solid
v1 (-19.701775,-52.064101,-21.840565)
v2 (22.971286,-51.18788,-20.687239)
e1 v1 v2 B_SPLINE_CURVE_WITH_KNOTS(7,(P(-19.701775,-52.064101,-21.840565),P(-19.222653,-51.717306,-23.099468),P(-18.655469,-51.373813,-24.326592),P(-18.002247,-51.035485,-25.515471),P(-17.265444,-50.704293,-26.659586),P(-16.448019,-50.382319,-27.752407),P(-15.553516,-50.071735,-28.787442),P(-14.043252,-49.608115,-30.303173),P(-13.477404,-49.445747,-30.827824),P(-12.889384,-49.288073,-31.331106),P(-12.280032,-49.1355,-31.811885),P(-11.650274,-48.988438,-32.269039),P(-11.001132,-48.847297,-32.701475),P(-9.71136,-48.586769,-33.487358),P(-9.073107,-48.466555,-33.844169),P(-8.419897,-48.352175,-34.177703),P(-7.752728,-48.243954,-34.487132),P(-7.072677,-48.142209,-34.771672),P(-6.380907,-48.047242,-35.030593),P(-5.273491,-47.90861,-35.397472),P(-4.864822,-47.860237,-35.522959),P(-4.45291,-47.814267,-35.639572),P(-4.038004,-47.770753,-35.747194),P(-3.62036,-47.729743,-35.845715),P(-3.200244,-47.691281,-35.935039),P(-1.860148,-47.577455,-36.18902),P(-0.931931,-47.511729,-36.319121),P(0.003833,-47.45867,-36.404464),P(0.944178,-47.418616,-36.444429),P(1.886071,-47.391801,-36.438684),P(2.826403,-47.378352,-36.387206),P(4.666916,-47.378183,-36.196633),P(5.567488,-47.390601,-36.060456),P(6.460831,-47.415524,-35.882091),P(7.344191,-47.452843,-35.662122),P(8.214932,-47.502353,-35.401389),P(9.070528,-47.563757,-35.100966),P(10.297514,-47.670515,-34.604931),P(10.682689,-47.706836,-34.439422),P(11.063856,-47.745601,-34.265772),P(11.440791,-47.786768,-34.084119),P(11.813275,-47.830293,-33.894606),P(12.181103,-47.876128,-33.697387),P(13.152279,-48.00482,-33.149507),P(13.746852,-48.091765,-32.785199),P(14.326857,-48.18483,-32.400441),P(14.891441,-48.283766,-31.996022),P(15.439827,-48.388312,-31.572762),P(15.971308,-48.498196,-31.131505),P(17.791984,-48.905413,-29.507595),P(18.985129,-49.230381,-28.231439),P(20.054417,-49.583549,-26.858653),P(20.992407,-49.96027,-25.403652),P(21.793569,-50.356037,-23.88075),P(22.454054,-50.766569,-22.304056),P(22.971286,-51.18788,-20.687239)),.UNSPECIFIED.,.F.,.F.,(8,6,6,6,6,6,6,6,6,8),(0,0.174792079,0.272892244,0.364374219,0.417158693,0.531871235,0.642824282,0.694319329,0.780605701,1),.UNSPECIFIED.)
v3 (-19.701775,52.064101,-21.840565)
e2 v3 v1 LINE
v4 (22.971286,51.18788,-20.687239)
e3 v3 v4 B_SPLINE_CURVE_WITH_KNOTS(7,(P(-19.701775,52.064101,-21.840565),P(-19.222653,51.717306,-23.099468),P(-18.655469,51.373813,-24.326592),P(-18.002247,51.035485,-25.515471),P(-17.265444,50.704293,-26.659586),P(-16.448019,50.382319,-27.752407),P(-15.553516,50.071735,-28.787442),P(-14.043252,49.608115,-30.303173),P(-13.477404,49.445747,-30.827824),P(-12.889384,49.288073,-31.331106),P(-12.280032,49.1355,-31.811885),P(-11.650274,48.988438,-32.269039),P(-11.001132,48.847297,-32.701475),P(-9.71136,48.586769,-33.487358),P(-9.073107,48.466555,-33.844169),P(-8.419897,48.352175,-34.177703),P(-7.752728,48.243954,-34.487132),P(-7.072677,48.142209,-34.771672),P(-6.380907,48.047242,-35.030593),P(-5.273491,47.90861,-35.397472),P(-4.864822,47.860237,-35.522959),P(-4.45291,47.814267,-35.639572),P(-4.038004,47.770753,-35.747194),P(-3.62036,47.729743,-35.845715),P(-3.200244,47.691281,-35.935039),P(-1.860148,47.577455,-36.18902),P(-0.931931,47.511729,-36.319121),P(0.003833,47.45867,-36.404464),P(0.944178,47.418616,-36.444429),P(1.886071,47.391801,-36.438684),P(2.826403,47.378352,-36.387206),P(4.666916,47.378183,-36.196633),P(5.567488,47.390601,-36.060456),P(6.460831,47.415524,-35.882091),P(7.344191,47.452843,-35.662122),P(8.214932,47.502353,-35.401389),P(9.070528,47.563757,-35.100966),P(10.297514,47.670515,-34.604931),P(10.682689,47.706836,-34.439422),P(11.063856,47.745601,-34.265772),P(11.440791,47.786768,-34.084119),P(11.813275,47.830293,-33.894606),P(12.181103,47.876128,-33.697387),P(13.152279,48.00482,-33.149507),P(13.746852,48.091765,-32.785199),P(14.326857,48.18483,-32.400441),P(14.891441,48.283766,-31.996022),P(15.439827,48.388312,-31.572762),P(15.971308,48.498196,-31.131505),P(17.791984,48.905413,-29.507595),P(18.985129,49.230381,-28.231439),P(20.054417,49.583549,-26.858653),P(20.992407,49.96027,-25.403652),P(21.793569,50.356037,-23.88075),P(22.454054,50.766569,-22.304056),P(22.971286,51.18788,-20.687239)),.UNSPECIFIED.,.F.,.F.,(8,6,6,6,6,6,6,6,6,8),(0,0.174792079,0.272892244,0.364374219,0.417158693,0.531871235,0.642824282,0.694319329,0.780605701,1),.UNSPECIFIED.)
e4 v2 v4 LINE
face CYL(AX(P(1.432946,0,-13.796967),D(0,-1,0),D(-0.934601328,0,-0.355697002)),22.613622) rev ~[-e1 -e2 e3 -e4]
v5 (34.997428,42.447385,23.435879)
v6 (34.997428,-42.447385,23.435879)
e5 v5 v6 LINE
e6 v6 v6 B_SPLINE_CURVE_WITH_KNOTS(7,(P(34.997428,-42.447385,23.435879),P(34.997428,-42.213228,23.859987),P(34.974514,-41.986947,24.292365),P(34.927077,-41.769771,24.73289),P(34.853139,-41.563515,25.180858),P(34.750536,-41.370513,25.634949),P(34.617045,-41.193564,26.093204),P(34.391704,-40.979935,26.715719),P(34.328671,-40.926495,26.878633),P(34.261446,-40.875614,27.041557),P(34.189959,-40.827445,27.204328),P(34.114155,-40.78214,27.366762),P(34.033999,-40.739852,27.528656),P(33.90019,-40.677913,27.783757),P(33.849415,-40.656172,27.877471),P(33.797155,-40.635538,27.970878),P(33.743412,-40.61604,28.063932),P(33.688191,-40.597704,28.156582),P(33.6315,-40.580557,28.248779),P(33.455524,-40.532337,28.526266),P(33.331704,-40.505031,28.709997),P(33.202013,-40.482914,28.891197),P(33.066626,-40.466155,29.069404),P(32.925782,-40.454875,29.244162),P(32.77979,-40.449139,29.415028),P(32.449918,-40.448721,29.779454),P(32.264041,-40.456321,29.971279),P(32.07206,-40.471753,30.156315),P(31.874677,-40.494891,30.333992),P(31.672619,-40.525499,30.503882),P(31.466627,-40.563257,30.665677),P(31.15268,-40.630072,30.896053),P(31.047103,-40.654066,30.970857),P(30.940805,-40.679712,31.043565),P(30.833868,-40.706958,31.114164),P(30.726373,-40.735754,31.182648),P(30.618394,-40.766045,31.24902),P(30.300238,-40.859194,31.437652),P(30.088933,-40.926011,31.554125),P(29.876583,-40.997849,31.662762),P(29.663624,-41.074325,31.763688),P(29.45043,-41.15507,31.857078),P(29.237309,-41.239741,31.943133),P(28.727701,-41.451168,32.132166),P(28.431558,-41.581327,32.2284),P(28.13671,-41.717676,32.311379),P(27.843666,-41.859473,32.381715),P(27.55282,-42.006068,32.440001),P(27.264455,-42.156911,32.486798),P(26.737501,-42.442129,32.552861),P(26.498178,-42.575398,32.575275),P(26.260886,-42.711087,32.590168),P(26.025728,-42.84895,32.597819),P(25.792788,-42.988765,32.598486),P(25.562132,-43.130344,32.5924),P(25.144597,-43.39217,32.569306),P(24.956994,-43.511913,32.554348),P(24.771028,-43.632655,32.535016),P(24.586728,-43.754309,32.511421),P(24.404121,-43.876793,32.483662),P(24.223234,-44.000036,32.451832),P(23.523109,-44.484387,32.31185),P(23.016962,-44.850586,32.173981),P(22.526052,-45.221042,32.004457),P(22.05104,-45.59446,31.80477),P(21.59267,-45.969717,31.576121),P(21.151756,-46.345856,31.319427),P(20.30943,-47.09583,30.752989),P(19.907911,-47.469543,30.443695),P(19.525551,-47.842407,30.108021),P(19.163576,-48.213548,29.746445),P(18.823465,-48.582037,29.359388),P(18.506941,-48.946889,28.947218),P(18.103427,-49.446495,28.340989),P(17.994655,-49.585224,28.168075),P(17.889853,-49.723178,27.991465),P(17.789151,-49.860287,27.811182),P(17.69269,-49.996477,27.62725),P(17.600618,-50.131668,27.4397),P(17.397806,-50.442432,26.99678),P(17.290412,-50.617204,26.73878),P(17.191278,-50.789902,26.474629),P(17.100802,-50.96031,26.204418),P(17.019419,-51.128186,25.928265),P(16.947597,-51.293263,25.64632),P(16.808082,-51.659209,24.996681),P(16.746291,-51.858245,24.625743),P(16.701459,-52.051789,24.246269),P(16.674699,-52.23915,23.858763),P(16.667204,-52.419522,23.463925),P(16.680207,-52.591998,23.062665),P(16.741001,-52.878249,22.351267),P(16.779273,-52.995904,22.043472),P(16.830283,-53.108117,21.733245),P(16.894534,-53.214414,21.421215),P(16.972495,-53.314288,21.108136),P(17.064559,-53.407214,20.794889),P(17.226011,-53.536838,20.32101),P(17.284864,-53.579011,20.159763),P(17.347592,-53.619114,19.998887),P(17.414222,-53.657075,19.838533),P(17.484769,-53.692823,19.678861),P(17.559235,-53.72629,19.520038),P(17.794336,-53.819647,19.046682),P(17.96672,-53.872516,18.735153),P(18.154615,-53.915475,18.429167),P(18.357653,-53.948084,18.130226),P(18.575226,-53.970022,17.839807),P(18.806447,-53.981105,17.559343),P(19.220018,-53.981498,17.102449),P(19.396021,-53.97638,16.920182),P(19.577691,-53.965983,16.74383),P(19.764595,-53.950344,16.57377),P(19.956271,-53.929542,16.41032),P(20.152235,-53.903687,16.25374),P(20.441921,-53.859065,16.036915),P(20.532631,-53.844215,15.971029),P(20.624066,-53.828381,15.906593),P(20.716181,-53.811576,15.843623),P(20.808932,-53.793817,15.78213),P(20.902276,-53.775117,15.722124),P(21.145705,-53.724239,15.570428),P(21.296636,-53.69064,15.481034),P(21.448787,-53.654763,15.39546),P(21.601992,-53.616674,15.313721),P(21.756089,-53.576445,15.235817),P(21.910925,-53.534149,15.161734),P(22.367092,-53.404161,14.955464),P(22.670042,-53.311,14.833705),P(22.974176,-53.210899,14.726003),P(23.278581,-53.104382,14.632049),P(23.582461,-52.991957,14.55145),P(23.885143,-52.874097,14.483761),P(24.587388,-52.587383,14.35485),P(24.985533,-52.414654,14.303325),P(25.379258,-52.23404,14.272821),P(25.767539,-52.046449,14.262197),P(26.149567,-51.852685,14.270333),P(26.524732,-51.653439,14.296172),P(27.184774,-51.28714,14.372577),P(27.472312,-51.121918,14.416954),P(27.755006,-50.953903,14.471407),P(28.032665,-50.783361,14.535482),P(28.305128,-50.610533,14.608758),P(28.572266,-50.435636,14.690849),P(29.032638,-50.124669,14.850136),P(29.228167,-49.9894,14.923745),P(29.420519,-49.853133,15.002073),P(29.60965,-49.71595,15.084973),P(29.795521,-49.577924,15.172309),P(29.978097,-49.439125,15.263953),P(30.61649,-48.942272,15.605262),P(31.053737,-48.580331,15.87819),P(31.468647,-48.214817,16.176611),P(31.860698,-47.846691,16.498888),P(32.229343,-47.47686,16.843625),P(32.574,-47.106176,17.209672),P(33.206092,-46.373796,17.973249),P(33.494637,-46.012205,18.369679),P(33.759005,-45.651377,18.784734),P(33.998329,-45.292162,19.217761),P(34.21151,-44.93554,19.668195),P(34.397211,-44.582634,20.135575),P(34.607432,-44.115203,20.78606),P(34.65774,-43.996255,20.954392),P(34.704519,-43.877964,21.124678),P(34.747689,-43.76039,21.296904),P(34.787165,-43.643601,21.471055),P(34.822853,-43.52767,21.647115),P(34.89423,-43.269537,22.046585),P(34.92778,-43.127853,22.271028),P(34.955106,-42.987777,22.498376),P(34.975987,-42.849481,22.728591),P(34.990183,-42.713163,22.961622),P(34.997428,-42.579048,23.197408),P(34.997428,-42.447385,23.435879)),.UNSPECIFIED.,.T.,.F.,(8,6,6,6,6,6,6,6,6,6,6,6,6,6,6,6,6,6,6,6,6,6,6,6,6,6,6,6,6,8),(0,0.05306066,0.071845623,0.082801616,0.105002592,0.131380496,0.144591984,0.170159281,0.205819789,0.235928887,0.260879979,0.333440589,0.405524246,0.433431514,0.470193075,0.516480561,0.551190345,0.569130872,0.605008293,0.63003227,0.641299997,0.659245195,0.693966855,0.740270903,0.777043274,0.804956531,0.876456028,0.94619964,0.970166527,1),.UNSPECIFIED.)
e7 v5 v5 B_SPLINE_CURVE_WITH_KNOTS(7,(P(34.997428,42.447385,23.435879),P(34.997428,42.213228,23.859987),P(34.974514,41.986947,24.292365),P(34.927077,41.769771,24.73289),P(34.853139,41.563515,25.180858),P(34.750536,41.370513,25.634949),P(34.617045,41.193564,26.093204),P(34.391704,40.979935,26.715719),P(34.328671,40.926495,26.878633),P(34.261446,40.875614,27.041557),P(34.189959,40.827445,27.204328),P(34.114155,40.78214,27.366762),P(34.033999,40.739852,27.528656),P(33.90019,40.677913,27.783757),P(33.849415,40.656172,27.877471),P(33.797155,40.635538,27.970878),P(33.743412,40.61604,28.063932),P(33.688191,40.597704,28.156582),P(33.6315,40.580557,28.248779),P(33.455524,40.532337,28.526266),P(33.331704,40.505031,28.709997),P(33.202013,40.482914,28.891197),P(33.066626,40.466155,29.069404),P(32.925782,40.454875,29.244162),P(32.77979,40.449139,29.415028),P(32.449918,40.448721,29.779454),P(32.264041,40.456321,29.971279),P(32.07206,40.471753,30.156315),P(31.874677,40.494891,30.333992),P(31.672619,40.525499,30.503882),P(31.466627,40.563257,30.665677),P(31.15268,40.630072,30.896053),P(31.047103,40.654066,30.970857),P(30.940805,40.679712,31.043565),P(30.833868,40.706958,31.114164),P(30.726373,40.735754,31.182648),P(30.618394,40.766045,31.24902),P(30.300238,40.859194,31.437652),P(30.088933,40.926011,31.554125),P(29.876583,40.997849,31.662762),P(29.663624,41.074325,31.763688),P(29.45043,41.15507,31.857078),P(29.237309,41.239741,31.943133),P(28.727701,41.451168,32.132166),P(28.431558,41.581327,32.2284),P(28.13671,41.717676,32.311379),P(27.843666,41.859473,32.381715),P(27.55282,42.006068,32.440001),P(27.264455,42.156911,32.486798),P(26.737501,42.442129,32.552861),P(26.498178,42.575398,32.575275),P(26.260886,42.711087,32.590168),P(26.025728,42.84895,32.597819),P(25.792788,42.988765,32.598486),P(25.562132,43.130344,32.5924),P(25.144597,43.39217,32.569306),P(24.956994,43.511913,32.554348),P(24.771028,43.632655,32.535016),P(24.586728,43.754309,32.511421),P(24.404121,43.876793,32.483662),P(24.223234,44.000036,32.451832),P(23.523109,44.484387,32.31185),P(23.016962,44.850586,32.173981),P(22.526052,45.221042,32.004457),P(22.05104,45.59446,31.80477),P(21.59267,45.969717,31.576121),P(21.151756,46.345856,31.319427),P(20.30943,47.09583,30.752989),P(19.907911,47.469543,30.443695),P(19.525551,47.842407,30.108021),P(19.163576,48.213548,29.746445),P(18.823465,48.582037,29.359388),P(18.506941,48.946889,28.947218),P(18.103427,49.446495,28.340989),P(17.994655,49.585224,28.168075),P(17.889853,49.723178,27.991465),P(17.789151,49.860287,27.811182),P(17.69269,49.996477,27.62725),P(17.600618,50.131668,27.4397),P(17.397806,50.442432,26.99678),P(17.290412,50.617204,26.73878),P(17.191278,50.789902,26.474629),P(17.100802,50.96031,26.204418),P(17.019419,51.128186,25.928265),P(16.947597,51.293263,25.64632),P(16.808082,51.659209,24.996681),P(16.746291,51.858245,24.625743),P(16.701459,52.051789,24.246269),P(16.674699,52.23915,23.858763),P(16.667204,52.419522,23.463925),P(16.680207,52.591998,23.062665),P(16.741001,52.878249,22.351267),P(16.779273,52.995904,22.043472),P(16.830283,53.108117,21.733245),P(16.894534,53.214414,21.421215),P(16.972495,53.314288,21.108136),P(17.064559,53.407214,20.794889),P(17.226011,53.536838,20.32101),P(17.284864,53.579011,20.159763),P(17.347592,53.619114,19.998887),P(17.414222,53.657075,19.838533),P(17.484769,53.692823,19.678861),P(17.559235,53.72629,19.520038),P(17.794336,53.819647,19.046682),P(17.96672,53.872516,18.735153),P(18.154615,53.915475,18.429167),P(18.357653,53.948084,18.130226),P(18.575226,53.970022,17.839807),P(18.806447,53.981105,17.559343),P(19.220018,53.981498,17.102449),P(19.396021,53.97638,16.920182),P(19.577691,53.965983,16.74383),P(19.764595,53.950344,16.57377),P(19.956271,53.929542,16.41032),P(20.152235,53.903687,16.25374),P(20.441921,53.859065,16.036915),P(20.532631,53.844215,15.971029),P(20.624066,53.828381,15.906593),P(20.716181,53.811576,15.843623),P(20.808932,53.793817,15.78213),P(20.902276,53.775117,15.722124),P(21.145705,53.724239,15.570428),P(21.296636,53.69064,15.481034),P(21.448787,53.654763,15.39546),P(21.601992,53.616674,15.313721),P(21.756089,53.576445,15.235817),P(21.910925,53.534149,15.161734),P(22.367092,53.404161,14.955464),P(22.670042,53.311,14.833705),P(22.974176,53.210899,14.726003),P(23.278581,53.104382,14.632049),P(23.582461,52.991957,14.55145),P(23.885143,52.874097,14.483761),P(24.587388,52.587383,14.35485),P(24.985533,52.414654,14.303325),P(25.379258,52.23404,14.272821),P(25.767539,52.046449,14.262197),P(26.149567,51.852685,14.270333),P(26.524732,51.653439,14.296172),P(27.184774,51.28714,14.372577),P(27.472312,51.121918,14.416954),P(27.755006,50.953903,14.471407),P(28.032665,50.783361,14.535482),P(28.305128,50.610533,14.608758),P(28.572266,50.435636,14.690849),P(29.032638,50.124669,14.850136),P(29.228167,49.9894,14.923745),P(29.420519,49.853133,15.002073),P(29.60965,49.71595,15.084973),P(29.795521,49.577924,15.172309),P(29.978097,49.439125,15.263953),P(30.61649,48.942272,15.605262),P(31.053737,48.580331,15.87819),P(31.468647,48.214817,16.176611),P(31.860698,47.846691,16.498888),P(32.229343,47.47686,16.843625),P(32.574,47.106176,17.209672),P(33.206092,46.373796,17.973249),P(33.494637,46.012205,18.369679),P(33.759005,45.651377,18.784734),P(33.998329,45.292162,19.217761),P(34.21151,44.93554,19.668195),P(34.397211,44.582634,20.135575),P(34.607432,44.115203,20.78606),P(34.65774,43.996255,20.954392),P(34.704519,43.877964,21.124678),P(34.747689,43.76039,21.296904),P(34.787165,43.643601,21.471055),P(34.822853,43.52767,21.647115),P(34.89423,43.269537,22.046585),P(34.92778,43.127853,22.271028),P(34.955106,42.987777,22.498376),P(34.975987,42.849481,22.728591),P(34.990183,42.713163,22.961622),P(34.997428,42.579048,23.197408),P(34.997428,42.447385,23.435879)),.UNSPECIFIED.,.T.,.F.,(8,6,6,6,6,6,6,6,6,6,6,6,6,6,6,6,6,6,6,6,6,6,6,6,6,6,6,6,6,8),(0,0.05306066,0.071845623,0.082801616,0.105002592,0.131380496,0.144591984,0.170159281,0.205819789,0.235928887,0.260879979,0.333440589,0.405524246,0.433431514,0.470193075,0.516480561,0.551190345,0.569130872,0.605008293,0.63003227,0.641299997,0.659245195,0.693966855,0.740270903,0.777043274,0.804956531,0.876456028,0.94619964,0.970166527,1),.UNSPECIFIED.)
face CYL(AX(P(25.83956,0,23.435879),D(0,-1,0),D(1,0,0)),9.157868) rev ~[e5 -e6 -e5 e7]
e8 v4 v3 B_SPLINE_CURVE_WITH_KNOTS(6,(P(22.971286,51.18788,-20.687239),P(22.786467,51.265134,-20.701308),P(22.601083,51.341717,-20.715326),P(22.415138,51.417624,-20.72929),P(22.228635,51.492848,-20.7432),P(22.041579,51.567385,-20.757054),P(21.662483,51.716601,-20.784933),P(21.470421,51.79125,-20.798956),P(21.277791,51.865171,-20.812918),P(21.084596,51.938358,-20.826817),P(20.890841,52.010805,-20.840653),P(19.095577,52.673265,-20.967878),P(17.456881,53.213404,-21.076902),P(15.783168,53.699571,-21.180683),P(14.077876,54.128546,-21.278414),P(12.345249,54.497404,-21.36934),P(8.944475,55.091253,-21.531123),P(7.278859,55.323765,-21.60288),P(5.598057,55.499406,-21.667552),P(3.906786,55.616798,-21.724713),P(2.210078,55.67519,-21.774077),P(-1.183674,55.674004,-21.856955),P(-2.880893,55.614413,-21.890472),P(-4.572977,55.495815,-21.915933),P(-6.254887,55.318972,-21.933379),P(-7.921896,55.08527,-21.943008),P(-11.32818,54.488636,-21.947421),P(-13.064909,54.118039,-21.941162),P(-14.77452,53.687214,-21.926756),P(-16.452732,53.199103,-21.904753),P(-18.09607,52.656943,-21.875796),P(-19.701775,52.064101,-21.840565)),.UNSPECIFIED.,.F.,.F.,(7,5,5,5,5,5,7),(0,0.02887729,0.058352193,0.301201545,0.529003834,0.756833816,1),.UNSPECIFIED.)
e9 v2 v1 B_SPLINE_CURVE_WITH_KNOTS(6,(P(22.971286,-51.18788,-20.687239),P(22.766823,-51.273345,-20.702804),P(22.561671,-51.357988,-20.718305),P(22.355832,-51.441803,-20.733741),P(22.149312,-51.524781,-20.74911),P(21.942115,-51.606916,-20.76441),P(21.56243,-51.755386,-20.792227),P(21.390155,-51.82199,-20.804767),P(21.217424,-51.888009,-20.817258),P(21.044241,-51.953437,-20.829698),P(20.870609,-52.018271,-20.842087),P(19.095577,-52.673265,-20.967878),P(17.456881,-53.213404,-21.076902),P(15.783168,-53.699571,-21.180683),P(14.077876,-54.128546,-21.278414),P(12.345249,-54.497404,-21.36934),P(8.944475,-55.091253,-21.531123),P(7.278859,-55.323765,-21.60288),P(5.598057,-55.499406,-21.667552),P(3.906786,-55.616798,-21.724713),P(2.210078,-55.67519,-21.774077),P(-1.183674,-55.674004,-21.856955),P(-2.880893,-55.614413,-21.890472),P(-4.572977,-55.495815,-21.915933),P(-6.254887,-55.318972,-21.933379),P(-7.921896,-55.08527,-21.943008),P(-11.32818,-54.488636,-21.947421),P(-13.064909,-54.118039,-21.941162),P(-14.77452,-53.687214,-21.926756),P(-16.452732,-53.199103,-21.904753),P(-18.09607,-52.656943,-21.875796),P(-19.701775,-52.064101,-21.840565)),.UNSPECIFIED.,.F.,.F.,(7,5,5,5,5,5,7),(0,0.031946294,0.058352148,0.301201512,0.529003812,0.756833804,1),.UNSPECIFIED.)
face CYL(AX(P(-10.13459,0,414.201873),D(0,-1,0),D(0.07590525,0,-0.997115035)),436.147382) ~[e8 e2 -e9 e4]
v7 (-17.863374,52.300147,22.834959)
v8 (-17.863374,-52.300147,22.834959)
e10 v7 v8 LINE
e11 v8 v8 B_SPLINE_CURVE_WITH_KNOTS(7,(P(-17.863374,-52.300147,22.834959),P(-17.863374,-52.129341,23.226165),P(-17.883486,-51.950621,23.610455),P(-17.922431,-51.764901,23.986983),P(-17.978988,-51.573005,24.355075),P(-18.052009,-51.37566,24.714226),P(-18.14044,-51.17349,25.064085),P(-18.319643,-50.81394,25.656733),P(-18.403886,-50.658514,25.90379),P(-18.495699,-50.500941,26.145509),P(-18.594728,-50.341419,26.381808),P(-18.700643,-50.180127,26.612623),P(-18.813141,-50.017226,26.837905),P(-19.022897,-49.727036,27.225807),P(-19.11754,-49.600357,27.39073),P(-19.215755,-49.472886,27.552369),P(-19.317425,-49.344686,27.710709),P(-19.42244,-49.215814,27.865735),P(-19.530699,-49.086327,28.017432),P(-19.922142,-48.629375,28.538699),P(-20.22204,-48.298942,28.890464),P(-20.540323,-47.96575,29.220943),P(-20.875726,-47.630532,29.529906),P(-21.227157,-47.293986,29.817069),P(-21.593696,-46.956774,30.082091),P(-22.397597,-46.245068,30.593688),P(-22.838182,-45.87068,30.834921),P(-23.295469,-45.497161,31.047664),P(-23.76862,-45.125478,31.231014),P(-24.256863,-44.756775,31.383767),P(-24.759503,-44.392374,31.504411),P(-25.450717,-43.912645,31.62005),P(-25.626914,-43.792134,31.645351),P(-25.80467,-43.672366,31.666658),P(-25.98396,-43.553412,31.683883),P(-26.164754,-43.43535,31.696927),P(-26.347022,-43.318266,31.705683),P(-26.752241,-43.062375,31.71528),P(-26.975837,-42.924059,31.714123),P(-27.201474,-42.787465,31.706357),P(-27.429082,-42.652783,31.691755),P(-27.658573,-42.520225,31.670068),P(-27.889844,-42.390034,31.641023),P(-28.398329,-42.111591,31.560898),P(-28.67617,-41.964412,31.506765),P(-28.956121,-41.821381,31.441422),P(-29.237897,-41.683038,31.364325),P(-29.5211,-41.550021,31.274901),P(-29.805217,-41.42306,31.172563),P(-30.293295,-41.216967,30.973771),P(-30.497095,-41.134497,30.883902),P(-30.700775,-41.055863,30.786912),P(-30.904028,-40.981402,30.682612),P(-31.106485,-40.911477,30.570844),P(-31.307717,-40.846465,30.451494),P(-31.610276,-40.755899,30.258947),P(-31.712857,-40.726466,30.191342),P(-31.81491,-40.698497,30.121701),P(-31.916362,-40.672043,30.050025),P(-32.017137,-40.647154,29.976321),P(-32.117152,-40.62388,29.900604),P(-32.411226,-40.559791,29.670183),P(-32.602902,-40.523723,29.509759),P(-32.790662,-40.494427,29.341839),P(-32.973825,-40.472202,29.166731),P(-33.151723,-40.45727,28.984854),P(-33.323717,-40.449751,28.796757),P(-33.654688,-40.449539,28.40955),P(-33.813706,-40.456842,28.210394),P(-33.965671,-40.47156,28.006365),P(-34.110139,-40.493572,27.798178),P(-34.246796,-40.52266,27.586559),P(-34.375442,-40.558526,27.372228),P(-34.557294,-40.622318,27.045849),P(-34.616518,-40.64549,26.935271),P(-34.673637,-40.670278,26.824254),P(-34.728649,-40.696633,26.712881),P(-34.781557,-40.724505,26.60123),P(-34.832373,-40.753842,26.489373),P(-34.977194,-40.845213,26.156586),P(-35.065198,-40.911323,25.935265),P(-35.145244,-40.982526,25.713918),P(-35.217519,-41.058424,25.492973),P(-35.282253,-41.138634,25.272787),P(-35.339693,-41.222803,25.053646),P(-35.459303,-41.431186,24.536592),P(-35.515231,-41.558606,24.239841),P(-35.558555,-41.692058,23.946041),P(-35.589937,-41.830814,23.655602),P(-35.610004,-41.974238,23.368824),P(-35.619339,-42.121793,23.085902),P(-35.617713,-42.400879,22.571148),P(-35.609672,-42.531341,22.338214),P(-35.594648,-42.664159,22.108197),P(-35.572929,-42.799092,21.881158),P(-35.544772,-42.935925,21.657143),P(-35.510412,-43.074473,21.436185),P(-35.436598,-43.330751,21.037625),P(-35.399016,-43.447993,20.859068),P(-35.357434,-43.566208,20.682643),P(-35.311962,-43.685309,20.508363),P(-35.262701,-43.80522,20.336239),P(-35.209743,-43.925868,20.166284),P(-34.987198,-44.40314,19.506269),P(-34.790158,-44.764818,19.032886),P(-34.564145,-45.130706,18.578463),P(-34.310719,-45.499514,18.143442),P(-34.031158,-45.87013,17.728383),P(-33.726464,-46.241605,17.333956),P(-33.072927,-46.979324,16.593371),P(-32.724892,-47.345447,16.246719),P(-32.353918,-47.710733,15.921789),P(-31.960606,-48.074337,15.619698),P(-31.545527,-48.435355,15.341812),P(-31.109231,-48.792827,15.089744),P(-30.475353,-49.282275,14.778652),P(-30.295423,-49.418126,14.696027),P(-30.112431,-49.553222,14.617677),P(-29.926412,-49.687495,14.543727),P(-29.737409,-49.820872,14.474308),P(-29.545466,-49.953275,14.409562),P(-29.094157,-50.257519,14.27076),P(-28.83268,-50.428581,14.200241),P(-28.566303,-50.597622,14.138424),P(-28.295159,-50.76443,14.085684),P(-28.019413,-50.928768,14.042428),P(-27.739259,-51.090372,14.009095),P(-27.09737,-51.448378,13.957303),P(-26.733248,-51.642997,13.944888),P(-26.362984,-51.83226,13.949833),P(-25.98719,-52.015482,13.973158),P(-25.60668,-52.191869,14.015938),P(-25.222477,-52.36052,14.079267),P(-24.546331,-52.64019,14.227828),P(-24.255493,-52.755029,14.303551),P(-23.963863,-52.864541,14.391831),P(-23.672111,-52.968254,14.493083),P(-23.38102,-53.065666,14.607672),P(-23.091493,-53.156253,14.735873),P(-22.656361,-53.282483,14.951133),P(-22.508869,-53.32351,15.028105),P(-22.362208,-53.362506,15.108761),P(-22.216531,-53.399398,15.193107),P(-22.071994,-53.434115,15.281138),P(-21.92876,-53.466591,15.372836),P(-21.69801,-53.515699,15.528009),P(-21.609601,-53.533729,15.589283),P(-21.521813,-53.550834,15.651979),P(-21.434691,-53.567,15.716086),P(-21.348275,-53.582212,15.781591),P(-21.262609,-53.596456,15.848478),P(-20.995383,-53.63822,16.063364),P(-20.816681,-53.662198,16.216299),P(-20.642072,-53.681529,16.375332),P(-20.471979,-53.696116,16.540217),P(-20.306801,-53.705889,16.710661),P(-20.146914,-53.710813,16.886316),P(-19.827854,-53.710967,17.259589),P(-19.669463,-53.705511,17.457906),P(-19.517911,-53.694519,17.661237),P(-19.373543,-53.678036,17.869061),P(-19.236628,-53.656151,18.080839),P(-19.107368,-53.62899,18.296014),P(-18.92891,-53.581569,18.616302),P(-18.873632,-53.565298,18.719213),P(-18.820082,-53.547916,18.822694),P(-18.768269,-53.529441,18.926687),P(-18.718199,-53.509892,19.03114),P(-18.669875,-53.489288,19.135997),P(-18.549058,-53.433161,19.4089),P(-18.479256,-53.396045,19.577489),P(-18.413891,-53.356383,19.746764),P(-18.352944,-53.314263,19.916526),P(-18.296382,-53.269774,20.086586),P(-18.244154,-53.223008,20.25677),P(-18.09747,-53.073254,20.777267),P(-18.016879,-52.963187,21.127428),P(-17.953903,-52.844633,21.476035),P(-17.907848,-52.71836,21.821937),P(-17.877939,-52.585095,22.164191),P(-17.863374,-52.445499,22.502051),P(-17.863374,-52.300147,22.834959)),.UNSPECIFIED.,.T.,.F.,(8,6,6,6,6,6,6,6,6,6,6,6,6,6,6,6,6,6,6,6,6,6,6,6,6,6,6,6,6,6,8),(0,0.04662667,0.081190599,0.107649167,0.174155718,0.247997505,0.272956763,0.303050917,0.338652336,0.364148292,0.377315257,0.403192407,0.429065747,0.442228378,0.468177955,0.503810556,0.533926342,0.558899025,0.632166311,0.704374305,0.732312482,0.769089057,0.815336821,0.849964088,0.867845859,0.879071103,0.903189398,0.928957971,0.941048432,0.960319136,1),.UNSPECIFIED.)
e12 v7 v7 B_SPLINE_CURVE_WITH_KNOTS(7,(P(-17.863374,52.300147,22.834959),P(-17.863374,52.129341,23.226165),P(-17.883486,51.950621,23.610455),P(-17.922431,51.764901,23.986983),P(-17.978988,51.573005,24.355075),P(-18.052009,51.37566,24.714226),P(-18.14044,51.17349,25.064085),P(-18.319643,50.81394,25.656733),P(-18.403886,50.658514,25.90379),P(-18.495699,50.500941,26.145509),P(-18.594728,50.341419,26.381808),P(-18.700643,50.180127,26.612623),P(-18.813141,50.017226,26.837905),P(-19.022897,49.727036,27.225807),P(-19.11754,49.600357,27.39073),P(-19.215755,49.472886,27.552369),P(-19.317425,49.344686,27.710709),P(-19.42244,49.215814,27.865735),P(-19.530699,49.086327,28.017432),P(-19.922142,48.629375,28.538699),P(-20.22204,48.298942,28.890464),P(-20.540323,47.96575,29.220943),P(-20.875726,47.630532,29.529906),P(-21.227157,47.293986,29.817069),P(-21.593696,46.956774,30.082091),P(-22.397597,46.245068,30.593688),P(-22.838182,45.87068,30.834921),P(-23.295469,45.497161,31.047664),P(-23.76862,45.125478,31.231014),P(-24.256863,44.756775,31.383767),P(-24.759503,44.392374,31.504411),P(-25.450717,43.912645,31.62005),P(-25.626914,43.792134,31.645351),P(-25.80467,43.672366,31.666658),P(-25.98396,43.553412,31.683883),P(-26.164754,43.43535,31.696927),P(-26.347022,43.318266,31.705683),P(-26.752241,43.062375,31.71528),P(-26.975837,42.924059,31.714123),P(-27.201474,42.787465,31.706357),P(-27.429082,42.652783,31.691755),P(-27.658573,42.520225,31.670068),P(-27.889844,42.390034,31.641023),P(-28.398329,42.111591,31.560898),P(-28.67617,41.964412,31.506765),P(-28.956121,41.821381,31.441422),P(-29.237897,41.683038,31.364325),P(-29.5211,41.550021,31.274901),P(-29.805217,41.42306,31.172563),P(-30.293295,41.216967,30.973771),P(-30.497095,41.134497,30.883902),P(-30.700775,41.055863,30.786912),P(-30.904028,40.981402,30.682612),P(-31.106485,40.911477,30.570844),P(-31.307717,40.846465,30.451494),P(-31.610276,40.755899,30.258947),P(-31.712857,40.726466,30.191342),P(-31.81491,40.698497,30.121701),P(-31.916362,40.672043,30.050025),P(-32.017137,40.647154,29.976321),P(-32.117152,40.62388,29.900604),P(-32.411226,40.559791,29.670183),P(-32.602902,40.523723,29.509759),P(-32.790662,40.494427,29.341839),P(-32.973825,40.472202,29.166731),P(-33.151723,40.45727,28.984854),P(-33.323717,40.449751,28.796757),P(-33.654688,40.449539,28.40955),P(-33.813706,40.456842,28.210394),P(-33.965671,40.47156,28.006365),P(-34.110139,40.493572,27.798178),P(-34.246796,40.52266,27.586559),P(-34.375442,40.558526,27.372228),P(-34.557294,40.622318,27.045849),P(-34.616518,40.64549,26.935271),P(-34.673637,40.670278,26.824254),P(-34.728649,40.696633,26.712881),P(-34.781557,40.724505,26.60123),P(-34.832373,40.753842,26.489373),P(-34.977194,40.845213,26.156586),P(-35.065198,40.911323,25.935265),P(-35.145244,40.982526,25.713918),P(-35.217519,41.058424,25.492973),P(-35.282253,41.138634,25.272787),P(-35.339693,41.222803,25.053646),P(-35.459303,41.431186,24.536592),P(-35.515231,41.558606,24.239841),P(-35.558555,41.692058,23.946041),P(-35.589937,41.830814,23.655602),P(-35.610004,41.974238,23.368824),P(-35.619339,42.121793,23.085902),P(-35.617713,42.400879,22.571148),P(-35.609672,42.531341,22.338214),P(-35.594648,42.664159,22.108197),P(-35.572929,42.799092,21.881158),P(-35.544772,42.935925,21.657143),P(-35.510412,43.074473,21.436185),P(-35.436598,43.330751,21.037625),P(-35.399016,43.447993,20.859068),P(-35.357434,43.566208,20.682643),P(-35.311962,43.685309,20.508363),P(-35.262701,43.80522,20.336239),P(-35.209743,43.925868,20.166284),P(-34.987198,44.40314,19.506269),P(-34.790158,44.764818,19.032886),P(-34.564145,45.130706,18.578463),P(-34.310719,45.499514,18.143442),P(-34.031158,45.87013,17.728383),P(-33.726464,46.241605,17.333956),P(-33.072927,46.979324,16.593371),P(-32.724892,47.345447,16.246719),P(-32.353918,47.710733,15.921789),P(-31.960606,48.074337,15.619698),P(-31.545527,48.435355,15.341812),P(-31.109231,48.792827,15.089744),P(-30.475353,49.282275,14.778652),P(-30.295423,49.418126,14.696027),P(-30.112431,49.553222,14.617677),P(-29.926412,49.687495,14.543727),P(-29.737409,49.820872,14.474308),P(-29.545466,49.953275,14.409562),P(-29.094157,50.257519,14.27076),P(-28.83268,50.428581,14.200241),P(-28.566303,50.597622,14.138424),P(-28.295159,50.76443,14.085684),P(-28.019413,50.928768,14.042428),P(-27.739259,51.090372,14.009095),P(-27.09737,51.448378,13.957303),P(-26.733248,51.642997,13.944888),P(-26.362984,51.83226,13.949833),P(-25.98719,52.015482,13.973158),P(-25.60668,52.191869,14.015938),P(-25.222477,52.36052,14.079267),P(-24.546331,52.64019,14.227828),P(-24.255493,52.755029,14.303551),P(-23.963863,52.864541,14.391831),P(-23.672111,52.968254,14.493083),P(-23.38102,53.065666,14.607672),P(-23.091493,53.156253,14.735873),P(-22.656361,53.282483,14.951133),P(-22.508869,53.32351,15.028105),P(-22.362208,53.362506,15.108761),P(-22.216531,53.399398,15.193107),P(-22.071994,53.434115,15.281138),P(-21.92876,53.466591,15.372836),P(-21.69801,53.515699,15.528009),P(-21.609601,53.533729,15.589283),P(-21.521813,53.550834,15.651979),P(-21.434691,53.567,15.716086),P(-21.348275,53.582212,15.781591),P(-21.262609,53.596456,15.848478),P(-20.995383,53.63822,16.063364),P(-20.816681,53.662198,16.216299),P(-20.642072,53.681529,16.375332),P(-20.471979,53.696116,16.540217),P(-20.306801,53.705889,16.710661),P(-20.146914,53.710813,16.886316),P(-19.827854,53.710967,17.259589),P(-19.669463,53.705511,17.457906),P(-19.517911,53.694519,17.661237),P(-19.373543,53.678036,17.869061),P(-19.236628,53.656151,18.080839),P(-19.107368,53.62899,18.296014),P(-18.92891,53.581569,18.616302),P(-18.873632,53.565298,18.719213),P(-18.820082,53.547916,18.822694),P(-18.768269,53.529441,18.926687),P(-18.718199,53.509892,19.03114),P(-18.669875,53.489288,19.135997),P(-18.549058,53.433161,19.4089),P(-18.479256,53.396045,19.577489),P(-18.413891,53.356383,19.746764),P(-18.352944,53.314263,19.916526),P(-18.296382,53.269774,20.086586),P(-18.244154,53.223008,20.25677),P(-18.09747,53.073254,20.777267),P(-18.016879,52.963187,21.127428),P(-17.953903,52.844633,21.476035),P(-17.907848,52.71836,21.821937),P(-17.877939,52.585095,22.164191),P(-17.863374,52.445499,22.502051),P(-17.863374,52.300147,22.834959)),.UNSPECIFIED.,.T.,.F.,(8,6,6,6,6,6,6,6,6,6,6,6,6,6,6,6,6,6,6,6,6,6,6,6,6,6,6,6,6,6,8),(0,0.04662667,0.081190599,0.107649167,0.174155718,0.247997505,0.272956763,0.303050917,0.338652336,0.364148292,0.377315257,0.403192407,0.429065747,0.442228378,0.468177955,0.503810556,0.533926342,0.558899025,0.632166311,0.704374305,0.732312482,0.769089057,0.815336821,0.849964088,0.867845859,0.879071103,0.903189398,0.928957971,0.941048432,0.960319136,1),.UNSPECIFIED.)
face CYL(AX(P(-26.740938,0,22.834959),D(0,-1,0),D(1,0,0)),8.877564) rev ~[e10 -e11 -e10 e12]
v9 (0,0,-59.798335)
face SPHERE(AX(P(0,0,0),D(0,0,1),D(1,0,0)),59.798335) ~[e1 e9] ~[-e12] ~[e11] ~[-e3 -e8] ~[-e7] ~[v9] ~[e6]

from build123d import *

# Parameters (mm, degrees)
F2_R     = 8.877564
F3_DEPTH = 98.5
F4_R     = 9.157868
F5_DEPTH = 80.2
F7_DEPTH = 93.5


with BuildPart() as f1:
    # F0 (on Front) → F1 (revolve)
    with BuildSketch(Plane.XZ):
        with BuildLine():
            Line((0, 59.798335), (0, -59.798335))
            ThreePointArc((0, -59.798335), (59.798335, 0), (0, 59.798335))
        make_face()
    revolve(axis=Axis((0, 0, 0), (0, 0, -1)))

    # F2 (on Front) → F3 (cut, symmetric)
    with BuildSketch(Plane.XZ):
        with Locations((-26.740938, 22.834959)):
            Circle(F2_R)
    extrude(amount=F3_DEPTH, both=True, mode=Mode.SUBTRACT)

    # F4 (on Front) → F5 (cut, symmetric)
    with BuildSketch(Plane.XZ):
        with Locations((25.83956, 23.435879)):
            Circle(F4_R)
    extrude(amount=F5_DEPTH, both=True, mode=Mode.SUBTRACT)

    # F6 (on Front) → F7 (cut, symmetric)
    with BuildSketch(Plane.XZ):
        with BuildLine():
            ThreePointArc((22.971286, -20.687239), (1.648874, -21.786302), (-19.701775, -21.840565))
            ThreePointArc((-19.701775, -21.840565), (2.043902, -36.402335), (22.971286, -20.687239))
        make_face()
    extrude(amount=F7_DEPTH, both=True, mode=Mode.SUBTRACT)


solid = f1.part
